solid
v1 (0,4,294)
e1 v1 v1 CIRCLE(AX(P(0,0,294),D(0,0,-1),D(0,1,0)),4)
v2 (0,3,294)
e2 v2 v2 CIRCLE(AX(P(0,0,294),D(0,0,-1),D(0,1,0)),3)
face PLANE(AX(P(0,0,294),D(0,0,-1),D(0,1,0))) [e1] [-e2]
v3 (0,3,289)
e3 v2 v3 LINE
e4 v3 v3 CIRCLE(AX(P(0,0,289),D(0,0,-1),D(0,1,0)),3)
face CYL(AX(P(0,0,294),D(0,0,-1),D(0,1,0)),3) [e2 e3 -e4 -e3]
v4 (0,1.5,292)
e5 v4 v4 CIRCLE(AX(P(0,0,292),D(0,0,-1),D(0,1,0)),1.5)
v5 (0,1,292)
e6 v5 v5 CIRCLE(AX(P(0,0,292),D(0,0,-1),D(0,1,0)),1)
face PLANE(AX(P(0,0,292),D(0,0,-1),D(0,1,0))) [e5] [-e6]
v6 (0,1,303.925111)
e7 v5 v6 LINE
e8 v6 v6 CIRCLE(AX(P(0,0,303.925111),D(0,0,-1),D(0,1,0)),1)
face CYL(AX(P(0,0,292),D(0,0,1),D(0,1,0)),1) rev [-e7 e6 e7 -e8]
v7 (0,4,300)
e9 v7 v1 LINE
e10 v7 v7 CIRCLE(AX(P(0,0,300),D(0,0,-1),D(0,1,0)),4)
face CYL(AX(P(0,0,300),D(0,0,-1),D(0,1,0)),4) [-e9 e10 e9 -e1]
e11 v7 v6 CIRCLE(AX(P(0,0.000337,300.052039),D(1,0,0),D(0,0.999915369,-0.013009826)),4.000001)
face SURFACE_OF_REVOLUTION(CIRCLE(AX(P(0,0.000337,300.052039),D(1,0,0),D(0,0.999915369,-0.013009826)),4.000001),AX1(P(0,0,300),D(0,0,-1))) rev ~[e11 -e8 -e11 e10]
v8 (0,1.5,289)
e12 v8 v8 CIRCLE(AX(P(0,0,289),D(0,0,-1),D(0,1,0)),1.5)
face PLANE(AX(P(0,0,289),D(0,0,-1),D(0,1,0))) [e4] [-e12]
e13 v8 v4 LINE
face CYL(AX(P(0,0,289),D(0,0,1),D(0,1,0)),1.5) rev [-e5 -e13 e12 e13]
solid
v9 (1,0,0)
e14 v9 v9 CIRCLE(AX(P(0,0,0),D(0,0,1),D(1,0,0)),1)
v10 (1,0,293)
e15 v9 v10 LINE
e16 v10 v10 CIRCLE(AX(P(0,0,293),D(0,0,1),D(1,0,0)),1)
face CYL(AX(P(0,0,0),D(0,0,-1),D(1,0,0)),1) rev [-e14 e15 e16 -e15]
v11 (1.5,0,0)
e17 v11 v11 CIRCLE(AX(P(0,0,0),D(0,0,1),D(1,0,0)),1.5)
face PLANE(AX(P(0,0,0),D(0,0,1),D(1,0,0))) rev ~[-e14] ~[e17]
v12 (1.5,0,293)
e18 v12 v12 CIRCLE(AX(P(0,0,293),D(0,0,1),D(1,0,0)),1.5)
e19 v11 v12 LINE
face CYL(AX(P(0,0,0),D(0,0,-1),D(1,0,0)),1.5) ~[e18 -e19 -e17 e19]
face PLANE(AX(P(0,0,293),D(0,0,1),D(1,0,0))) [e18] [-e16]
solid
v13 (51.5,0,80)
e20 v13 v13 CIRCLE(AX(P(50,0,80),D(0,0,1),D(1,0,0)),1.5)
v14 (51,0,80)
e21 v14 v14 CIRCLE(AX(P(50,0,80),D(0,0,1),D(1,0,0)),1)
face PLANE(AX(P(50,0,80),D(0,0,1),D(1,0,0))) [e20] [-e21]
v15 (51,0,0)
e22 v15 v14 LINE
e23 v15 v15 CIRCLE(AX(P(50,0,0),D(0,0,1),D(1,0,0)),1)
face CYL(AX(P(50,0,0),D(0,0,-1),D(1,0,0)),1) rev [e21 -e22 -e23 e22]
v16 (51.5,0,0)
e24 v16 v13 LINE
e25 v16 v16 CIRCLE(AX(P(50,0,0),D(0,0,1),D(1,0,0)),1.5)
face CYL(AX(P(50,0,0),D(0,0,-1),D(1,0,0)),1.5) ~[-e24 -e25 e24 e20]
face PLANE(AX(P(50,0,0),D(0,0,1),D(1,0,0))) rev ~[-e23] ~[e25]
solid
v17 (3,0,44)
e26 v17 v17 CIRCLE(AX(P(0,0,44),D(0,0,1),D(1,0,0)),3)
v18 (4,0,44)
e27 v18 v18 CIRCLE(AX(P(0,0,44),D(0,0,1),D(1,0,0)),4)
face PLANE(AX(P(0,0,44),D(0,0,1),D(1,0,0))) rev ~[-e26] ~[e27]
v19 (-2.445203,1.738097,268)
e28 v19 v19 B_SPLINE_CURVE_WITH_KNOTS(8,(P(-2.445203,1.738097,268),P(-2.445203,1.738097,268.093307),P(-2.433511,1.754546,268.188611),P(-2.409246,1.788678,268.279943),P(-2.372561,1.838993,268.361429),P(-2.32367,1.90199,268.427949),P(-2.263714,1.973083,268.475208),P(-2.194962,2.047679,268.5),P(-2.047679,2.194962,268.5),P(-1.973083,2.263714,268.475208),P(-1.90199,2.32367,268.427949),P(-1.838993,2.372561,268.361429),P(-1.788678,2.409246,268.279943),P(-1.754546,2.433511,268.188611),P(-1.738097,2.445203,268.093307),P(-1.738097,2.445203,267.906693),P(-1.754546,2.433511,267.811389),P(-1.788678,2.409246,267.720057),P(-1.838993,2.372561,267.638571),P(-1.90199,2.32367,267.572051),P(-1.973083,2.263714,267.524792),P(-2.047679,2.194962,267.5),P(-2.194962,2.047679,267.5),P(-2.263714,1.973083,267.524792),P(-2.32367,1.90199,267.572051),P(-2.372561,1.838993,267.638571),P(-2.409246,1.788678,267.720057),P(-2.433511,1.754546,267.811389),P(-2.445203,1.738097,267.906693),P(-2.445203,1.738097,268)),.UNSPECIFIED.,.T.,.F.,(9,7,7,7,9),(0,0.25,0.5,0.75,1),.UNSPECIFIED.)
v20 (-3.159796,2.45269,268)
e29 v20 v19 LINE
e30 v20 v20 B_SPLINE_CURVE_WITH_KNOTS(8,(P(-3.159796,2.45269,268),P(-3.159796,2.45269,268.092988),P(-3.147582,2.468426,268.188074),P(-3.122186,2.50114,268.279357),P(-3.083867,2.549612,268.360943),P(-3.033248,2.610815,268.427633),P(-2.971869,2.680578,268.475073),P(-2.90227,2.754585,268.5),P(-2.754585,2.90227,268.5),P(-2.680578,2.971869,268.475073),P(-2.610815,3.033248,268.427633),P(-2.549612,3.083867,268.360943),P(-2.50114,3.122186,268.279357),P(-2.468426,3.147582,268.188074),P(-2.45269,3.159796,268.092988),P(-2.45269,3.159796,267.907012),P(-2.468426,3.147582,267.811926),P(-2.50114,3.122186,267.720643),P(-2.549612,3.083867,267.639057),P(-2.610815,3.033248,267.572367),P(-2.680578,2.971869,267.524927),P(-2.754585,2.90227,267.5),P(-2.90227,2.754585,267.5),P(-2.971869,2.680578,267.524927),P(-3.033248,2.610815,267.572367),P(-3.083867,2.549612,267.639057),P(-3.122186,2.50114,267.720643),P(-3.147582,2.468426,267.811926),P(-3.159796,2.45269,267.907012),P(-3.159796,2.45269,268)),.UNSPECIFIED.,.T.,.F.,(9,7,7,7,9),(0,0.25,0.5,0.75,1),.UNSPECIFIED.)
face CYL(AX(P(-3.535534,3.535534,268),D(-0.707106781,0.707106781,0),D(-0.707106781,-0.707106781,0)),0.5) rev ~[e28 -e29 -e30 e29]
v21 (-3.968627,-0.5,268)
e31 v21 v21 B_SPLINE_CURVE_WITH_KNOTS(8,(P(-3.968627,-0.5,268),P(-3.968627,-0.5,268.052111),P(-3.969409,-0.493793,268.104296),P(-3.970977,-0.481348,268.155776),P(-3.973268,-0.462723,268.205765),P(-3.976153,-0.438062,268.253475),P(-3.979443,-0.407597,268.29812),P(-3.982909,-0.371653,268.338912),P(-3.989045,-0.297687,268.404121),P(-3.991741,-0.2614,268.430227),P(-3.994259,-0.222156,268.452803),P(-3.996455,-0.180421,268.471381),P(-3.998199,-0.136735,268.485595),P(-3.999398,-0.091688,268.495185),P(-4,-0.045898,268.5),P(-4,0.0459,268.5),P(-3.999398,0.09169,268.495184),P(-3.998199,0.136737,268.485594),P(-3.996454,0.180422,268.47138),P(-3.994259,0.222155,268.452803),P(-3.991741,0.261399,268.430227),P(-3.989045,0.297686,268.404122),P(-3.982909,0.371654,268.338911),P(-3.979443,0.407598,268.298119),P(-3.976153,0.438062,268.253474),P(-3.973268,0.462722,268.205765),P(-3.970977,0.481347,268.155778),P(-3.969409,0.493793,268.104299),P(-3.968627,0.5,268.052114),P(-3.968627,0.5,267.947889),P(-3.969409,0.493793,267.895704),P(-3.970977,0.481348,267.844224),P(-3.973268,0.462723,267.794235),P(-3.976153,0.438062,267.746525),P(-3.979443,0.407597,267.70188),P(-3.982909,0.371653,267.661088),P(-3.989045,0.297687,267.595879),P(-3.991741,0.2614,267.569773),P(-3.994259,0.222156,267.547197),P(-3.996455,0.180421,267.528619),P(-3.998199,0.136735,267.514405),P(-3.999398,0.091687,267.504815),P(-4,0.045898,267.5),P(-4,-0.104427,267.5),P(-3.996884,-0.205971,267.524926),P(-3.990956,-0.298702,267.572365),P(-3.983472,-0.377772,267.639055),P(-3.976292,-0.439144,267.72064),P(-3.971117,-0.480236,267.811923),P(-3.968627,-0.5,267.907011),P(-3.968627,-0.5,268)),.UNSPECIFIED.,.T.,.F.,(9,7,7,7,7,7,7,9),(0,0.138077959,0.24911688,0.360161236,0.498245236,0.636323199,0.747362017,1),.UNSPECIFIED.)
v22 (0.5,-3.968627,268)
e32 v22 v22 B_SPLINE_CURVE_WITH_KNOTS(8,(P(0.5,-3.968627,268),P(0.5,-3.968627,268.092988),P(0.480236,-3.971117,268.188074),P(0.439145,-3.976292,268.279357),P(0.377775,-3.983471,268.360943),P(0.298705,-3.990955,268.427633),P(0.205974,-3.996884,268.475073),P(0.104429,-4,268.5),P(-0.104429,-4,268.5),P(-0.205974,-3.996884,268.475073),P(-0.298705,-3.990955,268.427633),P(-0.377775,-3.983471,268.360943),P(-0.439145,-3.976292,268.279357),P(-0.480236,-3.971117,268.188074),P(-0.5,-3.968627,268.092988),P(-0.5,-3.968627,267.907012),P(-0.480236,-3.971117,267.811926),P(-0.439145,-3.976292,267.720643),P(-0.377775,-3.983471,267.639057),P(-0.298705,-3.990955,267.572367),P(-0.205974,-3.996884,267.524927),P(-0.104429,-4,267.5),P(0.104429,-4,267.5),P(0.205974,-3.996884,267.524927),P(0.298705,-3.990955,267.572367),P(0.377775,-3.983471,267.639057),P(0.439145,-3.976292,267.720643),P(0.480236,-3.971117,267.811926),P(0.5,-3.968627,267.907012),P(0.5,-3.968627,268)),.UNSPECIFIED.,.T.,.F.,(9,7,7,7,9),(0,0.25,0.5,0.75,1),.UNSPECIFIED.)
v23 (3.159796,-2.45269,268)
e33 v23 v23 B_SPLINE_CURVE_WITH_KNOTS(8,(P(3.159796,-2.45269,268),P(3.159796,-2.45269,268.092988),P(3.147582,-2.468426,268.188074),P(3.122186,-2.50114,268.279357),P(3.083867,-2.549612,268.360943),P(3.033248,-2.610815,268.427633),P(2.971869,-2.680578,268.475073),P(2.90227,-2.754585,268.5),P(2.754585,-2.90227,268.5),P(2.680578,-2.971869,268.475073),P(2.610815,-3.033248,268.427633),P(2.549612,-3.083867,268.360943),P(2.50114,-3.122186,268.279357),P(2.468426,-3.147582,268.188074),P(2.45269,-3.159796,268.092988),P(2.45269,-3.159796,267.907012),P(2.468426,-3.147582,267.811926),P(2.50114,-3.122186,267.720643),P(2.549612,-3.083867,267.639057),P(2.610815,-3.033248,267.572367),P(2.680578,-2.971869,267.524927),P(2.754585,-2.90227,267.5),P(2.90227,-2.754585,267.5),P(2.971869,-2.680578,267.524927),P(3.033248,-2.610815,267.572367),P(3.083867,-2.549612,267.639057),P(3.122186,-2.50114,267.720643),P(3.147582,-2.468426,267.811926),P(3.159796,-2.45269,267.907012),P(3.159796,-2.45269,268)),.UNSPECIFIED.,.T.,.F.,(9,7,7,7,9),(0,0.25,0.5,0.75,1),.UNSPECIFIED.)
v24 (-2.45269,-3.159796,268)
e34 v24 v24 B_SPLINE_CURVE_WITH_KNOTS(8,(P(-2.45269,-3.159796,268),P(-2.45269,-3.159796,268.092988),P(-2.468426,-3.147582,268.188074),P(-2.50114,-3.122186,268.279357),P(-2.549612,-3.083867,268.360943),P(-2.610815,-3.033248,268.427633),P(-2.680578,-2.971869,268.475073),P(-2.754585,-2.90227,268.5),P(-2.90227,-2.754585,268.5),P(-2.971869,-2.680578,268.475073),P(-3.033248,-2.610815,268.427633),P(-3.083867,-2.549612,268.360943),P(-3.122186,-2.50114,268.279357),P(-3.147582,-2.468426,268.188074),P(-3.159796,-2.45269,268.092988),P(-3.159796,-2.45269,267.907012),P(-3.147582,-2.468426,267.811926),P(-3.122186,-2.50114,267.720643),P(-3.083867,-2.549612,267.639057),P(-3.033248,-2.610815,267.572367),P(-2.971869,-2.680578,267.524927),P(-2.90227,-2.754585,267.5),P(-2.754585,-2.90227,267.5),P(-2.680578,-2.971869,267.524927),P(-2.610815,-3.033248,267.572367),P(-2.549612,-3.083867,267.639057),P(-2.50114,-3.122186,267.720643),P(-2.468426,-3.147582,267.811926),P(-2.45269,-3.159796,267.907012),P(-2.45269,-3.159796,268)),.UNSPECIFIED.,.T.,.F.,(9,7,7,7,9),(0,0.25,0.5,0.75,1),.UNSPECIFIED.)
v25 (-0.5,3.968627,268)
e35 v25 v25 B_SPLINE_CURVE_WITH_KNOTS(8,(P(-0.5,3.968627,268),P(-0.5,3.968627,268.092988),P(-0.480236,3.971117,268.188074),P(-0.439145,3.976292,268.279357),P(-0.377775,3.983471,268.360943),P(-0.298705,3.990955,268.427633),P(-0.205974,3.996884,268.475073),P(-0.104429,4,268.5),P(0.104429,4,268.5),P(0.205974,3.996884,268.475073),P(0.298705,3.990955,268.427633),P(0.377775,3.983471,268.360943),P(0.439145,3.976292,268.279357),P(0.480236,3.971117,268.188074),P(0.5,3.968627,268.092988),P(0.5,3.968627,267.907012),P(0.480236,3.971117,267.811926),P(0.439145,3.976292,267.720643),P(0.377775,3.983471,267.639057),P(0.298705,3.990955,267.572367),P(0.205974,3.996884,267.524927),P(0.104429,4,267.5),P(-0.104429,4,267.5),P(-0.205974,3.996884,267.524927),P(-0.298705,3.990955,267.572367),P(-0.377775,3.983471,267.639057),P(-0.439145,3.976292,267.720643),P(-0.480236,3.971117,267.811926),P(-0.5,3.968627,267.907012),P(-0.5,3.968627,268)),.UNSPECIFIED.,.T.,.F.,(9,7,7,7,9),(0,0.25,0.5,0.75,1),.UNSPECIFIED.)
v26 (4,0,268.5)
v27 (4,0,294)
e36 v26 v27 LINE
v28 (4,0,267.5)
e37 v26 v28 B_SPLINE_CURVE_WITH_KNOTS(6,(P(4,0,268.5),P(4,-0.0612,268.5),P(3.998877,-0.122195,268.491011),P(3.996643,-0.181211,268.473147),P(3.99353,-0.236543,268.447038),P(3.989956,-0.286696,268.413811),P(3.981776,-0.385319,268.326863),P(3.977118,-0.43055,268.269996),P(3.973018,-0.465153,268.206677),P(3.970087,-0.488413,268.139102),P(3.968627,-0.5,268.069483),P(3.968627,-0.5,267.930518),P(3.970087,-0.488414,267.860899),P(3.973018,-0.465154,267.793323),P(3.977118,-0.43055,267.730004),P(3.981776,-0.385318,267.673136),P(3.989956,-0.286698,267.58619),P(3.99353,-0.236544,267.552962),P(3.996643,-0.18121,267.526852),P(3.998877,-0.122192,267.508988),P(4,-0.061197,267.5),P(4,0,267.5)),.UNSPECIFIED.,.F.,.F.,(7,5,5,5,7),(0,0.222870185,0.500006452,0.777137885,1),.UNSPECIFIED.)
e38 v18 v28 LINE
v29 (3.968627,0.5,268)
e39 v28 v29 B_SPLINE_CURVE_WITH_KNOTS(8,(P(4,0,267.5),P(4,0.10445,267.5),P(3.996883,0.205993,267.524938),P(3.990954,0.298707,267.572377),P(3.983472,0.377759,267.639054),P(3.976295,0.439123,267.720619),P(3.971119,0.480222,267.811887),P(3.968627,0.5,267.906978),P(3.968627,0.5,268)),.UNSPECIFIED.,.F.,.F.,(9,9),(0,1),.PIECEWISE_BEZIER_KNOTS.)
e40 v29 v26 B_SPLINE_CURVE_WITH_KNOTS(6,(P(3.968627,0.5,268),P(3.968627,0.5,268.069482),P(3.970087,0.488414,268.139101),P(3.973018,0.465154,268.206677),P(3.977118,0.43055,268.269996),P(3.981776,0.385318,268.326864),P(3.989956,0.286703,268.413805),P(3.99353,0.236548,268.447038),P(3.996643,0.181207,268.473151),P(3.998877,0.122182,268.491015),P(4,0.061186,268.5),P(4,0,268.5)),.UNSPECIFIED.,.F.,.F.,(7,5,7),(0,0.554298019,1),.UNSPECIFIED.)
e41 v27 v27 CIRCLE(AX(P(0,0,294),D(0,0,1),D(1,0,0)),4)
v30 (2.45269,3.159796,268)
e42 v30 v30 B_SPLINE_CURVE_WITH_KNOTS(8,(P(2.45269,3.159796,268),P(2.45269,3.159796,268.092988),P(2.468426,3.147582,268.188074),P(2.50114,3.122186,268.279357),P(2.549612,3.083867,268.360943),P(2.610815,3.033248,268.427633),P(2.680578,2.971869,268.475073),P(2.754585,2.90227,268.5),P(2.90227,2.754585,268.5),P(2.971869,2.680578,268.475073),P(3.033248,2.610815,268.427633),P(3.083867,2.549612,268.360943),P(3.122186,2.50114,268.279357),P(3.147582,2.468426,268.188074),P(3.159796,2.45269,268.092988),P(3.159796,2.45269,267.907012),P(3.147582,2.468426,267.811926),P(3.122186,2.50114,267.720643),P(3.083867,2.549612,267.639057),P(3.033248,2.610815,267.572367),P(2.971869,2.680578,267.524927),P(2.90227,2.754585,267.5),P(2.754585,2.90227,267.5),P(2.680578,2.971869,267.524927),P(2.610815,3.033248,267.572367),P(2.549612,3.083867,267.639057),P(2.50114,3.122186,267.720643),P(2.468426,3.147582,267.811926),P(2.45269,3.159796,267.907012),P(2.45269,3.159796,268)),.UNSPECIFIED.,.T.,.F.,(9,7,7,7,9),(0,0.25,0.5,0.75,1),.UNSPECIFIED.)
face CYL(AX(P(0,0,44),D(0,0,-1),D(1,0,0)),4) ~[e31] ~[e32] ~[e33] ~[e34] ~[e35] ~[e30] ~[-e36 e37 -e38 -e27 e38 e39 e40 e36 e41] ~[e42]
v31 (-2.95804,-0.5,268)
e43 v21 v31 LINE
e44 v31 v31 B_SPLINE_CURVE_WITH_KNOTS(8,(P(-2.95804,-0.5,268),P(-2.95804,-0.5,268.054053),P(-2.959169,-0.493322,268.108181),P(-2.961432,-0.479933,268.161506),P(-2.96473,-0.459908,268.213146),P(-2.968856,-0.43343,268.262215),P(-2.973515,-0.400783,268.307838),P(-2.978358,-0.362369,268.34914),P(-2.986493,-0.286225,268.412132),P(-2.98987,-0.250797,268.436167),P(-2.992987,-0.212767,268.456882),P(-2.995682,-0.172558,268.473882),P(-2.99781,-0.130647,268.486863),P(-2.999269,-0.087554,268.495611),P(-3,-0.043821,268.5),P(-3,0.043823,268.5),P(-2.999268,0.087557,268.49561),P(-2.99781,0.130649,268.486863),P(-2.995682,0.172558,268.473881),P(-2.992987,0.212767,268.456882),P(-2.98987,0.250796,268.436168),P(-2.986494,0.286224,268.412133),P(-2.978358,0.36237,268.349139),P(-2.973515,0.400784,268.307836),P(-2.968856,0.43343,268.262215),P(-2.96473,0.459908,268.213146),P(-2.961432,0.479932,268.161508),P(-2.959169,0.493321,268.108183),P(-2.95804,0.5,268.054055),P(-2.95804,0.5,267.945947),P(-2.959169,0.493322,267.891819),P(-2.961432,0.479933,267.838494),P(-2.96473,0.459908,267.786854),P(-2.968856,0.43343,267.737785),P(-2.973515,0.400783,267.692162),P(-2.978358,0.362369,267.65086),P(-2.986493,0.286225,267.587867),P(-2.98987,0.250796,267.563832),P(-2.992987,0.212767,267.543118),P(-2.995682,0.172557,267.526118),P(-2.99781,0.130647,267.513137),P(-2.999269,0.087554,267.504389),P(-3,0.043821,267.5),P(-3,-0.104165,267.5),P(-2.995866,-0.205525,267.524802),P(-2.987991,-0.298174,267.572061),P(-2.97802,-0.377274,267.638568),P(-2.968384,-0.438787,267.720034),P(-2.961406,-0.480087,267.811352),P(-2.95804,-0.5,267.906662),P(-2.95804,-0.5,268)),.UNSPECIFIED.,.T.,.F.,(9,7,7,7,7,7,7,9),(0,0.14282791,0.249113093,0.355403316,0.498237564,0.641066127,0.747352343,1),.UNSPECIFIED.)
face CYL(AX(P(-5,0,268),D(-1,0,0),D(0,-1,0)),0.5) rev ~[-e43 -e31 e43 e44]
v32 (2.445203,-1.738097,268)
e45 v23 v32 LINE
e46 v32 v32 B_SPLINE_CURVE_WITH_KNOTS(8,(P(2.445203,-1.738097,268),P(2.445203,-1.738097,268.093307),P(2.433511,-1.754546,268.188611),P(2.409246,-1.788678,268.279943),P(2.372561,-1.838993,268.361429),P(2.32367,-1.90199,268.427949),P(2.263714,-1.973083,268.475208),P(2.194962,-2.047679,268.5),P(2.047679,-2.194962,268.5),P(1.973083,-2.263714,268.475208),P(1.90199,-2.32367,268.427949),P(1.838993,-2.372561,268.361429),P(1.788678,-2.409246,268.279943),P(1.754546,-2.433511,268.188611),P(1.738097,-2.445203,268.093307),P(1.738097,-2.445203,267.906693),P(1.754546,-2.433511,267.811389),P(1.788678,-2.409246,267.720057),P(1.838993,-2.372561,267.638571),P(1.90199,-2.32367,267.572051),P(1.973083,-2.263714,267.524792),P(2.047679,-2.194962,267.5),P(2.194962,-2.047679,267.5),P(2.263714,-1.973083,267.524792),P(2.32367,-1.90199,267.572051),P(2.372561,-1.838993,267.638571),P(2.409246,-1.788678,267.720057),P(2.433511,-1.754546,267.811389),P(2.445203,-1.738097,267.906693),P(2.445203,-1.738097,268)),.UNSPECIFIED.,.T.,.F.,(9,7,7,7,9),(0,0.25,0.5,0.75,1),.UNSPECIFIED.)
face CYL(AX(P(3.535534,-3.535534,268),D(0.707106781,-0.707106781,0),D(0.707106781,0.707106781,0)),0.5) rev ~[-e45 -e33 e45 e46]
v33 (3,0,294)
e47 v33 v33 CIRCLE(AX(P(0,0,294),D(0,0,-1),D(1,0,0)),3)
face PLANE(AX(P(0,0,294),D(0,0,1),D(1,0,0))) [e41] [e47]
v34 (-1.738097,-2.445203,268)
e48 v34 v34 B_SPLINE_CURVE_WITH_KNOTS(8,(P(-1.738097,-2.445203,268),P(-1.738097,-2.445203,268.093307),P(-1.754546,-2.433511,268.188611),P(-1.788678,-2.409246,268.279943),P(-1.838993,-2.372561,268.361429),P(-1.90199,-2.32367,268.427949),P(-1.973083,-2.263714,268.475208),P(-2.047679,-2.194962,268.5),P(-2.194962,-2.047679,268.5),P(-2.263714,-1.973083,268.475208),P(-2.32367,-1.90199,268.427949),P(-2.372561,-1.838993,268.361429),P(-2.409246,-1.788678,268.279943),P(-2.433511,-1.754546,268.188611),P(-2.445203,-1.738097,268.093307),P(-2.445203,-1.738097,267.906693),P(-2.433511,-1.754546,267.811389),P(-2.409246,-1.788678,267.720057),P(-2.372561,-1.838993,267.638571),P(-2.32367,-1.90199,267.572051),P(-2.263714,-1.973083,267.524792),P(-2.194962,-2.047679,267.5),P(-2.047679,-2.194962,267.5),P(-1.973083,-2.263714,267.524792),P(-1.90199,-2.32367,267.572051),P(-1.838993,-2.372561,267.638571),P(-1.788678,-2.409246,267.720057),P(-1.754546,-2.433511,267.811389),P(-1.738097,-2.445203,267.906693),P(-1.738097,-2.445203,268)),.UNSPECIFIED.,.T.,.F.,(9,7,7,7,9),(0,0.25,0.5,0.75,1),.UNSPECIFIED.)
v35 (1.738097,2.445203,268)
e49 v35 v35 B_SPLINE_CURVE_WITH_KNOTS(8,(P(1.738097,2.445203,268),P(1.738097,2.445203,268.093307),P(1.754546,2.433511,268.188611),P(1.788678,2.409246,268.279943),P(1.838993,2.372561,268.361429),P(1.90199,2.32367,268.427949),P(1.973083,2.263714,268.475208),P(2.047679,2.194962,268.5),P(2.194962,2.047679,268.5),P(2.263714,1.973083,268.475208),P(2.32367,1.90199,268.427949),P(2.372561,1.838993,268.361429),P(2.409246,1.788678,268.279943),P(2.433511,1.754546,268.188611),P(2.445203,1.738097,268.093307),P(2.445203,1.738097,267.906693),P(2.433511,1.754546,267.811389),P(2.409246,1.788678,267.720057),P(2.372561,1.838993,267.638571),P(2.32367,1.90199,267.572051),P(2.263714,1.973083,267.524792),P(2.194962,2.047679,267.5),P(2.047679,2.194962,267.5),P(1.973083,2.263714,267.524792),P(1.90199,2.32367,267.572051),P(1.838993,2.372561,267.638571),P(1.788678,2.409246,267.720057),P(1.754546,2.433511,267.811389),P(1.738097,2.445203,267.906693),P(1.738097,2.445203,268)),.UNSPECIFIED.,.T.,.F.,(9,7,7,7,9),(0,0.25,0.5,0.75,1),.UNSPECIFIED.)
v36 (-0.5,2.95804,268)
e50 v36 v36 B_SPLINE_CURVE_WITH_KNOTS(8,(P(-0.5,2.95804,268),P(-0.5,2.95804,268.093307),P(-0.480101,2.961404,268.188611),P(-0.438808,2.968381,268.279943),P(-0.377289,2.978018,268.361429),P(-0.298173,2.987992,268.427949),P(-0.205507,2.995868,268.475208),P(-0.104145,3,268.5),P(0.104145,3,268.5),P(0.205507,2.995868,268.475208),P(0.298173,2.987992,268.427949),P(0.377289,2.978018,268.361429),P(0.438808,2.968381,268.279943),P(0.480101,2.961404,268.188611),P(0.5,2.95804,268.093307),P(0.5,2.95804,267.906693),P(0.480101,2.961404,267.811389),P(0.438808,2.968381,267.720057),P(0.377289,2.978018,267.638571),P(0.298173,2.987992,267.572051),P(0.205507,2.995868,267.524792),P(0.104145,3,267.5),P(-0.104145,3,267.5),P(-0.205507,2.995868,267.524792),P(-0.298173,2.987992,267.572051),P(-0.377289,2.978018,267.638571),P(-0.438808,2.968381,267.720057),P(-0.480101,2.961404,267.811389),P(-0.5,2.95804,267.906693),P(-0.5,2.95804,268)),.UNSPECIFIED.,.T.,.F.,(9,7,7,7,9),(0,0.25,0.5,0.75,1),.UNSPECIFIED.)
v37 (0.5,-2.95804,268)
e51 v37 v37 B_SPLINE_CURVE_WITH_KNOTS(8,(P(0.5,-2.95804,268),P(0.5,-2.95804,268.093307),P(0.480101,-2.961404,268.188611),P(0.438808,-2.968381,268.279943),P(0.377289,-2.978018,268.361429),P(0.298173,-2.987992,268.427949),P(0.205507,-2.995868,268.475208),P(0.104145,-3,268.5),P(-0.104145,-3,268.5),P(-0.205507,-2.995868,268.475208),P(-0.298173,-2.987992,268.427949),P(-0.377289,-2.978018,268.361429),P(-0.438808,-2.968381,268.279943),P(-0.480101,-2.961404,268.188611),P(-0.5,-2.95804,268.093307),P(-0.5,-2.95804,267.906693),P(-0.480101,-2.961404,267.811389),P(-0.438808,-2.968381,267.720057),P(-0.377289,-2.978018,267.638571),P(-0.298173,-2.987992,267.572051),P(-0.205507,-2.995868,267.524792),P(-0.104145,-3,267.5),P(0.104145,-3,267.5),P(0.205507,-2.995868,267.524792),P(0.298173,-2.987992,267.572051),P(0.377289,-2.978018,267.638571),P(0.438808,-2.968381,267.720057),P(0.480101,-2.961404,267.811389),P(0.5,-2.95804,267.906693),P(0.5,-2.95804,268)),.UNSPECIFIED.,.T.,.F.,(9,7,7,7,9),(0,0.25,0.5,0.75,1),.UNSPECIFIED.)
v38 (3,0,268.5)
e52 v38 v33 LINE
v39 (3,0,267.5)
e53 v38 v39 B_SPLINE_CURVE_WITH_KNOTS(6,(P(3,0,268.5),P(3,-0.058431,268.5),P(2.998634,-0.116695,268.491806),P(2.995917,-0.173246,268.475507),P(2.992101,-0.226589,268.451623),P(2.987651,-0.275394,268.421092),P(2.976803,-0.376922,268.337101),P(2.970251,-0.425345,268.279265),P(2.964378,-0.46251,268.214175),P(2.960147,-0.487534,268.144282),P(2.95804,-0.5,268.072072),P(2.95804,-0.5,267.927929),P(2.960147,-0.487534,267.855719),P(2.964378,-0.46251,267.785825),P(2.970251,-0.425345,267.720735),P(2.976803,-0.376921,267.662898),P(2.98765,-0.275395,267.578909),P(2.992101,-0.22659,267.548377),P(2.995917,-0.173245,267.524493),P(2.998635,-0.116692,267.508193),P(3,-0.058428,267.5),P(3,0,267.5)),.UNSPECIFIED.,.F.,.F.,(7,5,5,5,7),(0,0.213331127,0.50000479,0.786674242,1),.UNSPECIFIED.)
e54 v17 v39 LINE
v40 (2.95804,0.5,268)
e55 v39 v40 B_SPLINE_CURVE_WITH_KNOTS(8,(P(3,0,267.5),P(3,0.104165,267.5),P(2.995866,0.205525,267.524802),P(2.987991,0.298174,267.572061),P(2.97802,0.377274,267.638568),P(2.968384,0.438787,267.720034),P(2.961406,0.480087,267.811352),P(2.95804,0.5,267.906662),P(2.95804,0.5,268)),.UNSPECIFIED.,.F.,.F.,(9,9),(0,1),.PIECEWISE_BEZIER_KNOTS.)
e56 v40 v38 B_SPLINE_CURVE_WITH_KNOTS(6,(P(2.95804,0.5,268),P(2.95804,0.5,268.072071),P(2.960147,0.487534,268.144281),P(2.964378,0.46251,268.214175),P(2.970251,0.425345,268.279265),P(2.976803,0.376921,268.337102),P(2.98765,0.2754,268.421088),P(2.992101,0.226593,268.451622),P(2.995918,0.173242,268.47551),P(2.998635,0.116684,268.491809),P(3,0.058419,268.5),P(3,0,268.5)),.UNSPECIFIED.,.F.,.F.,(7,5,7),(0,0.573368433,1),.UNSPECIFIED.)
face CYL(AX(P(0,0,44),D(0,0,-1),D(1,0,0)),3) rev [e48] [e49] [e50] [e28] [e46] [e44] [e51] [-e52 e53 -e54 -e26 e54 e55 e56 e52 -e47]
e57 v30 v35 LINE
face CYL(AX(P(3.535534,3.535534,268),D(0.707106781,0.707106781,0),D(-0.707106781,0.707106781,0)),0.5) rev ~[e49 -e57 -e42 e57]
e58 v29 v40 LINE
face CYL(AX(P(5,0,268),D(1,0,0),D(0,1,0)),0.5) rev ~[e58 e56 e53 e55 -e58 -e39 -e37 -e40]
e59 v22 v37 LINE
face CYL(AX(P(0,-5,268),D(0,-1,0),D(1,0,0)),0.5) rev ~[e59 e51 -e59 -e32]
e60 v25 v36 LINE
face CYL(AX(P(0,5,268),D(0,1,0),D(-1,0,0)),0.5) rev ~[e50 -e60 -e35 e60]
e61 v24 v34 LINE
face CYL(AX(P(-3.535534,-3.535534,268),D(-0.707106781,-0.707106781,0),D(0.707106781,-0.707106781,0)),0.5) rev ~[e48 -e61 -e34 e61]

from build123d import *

# Parameters (mm, degrees)
SKETCH_R           = 4
SKETCH_R_2         = 3
PAD_DEPTH          = 250
SKETCH001_W        = 5
SKETCH001_H        = 5
PAD001_DEPTH       = 10
SKETCH002_R        = 0.5
POCKET_DEPTH       = 3
POLARPATTERN_COUNT = 8
SKETCH003_W        = 8.429369
SKETCH003_H        = 7.155477
POCKET001_DEPTH    = 10
SKETCH004_R        = 1.5
SKETCH004_R_2      = 1
PAD002_DEPTH       = 293
SKETCH006_R        = 1.5
SKETCH006_R_2      = 1
PAD003_DEPTH       = 80


with BuildPart() as pocket001:
    # Sketch → Pad (new body)
    with BuildSketch(Plane.XY.offset(44)):
        Circle(SKETCH_R)
        Circle(SKETCH_R_2, mode=Mode.SUBTRACT)
    extrude(amount=PAD_DEPTH)

    # Sketch001 → Pad001 (new body)
    with BuildSketch(Plane.XY.offset(294)):
        with Locations((2.5, -2.5)):
            Rectangle(SKETCH001_W, SKETCH001_H)
    extrude(amount=PAD001_DEPTH)

    # Sketch002 → Pocket (cut)
    with BuildSketch(Plane(origin=(0, -5, 44), x_dir=(1, 0, 0), z_dir=(0, -1, 0))):
        with Locations((0, 224)):
            Circle(SKETCH002_R)
    pocket = extrude(amount=-POCKET_DEPTH, mode=Mode.SUBTRACT)

    # PolarPattern: Pocket ×8 about axis
    polarpattern_axis = Axis((0, 0, 299), (0, 0, 1))
    for i in range(1, POLARPATTERN_COUNT):
        add(pocket.rotate(polarpattern_axis, i * 360 / POLARPATTERN_COUNT), mode=Mode.SUBTRACT)

    # Sketch003 → Pocket001 (cut)
    with BuildSketch(Plane.XY.offset(304)):
        with Locations((3.121665, -2.696092)):
            Rectangle(SKETCH003_W, SKETCH003_H)
    extrude(amount=-POCKET001_DEPTH, mode=Mode.SUBTRACT)


with BuildPart() as pad002:
    # Sketch004 → Pad002 (new body)
    with BuildSketch(Plane.XY):
        Circle(SKETCH004_R)
        Circle(SKETCH004_R_2, mode=Mode.SUBTRACT)
    extrude(amount=PAD002_DEPTH)


with BuildPart() as revolution:
    # Sketch005 → Revolution (revolve)
    with BuildSketch(Plane(origin=(0, 0, 300), x_dir=(0, 0, -1), z_dir=(1, 0, 0))):
        with BuildLine():
            Line((0, 4), (6, 4))
            Line((6, 4), (6, 3))
            Line((6, 3), (11, 3))
            Line((11, 3), (11, 1.5))
            Line((11, 1.5), (8, 1.5))
            Line((8, 1.5), (8, 1))
            Line((8, 1), (-3.925111, 1))
            ThreePointArc((0, 4), (-2.481046, 3.178377), (-3.925111, 1))
        make_face()
    revolve(axis=Axis((0, 0, 300), (0, 0, -1)))


with BuildPart() as pad003:
    # Sketch006 → Pad003 (new body)
    with BuildSketch(Plane(origin=(50, 0, 0), x_dir=(1, 0, 0), z_dir=(0, 0, 1))):
        Circle(SKETCH006_R)
        Circle(SKETCH006_R_2, mode=Mode.SUBTRACT)
    extrude(amount=PAD003_DEPTH)


solid = Compound([pocket001.part, pad002.part, revolution.part, pad003.part])
